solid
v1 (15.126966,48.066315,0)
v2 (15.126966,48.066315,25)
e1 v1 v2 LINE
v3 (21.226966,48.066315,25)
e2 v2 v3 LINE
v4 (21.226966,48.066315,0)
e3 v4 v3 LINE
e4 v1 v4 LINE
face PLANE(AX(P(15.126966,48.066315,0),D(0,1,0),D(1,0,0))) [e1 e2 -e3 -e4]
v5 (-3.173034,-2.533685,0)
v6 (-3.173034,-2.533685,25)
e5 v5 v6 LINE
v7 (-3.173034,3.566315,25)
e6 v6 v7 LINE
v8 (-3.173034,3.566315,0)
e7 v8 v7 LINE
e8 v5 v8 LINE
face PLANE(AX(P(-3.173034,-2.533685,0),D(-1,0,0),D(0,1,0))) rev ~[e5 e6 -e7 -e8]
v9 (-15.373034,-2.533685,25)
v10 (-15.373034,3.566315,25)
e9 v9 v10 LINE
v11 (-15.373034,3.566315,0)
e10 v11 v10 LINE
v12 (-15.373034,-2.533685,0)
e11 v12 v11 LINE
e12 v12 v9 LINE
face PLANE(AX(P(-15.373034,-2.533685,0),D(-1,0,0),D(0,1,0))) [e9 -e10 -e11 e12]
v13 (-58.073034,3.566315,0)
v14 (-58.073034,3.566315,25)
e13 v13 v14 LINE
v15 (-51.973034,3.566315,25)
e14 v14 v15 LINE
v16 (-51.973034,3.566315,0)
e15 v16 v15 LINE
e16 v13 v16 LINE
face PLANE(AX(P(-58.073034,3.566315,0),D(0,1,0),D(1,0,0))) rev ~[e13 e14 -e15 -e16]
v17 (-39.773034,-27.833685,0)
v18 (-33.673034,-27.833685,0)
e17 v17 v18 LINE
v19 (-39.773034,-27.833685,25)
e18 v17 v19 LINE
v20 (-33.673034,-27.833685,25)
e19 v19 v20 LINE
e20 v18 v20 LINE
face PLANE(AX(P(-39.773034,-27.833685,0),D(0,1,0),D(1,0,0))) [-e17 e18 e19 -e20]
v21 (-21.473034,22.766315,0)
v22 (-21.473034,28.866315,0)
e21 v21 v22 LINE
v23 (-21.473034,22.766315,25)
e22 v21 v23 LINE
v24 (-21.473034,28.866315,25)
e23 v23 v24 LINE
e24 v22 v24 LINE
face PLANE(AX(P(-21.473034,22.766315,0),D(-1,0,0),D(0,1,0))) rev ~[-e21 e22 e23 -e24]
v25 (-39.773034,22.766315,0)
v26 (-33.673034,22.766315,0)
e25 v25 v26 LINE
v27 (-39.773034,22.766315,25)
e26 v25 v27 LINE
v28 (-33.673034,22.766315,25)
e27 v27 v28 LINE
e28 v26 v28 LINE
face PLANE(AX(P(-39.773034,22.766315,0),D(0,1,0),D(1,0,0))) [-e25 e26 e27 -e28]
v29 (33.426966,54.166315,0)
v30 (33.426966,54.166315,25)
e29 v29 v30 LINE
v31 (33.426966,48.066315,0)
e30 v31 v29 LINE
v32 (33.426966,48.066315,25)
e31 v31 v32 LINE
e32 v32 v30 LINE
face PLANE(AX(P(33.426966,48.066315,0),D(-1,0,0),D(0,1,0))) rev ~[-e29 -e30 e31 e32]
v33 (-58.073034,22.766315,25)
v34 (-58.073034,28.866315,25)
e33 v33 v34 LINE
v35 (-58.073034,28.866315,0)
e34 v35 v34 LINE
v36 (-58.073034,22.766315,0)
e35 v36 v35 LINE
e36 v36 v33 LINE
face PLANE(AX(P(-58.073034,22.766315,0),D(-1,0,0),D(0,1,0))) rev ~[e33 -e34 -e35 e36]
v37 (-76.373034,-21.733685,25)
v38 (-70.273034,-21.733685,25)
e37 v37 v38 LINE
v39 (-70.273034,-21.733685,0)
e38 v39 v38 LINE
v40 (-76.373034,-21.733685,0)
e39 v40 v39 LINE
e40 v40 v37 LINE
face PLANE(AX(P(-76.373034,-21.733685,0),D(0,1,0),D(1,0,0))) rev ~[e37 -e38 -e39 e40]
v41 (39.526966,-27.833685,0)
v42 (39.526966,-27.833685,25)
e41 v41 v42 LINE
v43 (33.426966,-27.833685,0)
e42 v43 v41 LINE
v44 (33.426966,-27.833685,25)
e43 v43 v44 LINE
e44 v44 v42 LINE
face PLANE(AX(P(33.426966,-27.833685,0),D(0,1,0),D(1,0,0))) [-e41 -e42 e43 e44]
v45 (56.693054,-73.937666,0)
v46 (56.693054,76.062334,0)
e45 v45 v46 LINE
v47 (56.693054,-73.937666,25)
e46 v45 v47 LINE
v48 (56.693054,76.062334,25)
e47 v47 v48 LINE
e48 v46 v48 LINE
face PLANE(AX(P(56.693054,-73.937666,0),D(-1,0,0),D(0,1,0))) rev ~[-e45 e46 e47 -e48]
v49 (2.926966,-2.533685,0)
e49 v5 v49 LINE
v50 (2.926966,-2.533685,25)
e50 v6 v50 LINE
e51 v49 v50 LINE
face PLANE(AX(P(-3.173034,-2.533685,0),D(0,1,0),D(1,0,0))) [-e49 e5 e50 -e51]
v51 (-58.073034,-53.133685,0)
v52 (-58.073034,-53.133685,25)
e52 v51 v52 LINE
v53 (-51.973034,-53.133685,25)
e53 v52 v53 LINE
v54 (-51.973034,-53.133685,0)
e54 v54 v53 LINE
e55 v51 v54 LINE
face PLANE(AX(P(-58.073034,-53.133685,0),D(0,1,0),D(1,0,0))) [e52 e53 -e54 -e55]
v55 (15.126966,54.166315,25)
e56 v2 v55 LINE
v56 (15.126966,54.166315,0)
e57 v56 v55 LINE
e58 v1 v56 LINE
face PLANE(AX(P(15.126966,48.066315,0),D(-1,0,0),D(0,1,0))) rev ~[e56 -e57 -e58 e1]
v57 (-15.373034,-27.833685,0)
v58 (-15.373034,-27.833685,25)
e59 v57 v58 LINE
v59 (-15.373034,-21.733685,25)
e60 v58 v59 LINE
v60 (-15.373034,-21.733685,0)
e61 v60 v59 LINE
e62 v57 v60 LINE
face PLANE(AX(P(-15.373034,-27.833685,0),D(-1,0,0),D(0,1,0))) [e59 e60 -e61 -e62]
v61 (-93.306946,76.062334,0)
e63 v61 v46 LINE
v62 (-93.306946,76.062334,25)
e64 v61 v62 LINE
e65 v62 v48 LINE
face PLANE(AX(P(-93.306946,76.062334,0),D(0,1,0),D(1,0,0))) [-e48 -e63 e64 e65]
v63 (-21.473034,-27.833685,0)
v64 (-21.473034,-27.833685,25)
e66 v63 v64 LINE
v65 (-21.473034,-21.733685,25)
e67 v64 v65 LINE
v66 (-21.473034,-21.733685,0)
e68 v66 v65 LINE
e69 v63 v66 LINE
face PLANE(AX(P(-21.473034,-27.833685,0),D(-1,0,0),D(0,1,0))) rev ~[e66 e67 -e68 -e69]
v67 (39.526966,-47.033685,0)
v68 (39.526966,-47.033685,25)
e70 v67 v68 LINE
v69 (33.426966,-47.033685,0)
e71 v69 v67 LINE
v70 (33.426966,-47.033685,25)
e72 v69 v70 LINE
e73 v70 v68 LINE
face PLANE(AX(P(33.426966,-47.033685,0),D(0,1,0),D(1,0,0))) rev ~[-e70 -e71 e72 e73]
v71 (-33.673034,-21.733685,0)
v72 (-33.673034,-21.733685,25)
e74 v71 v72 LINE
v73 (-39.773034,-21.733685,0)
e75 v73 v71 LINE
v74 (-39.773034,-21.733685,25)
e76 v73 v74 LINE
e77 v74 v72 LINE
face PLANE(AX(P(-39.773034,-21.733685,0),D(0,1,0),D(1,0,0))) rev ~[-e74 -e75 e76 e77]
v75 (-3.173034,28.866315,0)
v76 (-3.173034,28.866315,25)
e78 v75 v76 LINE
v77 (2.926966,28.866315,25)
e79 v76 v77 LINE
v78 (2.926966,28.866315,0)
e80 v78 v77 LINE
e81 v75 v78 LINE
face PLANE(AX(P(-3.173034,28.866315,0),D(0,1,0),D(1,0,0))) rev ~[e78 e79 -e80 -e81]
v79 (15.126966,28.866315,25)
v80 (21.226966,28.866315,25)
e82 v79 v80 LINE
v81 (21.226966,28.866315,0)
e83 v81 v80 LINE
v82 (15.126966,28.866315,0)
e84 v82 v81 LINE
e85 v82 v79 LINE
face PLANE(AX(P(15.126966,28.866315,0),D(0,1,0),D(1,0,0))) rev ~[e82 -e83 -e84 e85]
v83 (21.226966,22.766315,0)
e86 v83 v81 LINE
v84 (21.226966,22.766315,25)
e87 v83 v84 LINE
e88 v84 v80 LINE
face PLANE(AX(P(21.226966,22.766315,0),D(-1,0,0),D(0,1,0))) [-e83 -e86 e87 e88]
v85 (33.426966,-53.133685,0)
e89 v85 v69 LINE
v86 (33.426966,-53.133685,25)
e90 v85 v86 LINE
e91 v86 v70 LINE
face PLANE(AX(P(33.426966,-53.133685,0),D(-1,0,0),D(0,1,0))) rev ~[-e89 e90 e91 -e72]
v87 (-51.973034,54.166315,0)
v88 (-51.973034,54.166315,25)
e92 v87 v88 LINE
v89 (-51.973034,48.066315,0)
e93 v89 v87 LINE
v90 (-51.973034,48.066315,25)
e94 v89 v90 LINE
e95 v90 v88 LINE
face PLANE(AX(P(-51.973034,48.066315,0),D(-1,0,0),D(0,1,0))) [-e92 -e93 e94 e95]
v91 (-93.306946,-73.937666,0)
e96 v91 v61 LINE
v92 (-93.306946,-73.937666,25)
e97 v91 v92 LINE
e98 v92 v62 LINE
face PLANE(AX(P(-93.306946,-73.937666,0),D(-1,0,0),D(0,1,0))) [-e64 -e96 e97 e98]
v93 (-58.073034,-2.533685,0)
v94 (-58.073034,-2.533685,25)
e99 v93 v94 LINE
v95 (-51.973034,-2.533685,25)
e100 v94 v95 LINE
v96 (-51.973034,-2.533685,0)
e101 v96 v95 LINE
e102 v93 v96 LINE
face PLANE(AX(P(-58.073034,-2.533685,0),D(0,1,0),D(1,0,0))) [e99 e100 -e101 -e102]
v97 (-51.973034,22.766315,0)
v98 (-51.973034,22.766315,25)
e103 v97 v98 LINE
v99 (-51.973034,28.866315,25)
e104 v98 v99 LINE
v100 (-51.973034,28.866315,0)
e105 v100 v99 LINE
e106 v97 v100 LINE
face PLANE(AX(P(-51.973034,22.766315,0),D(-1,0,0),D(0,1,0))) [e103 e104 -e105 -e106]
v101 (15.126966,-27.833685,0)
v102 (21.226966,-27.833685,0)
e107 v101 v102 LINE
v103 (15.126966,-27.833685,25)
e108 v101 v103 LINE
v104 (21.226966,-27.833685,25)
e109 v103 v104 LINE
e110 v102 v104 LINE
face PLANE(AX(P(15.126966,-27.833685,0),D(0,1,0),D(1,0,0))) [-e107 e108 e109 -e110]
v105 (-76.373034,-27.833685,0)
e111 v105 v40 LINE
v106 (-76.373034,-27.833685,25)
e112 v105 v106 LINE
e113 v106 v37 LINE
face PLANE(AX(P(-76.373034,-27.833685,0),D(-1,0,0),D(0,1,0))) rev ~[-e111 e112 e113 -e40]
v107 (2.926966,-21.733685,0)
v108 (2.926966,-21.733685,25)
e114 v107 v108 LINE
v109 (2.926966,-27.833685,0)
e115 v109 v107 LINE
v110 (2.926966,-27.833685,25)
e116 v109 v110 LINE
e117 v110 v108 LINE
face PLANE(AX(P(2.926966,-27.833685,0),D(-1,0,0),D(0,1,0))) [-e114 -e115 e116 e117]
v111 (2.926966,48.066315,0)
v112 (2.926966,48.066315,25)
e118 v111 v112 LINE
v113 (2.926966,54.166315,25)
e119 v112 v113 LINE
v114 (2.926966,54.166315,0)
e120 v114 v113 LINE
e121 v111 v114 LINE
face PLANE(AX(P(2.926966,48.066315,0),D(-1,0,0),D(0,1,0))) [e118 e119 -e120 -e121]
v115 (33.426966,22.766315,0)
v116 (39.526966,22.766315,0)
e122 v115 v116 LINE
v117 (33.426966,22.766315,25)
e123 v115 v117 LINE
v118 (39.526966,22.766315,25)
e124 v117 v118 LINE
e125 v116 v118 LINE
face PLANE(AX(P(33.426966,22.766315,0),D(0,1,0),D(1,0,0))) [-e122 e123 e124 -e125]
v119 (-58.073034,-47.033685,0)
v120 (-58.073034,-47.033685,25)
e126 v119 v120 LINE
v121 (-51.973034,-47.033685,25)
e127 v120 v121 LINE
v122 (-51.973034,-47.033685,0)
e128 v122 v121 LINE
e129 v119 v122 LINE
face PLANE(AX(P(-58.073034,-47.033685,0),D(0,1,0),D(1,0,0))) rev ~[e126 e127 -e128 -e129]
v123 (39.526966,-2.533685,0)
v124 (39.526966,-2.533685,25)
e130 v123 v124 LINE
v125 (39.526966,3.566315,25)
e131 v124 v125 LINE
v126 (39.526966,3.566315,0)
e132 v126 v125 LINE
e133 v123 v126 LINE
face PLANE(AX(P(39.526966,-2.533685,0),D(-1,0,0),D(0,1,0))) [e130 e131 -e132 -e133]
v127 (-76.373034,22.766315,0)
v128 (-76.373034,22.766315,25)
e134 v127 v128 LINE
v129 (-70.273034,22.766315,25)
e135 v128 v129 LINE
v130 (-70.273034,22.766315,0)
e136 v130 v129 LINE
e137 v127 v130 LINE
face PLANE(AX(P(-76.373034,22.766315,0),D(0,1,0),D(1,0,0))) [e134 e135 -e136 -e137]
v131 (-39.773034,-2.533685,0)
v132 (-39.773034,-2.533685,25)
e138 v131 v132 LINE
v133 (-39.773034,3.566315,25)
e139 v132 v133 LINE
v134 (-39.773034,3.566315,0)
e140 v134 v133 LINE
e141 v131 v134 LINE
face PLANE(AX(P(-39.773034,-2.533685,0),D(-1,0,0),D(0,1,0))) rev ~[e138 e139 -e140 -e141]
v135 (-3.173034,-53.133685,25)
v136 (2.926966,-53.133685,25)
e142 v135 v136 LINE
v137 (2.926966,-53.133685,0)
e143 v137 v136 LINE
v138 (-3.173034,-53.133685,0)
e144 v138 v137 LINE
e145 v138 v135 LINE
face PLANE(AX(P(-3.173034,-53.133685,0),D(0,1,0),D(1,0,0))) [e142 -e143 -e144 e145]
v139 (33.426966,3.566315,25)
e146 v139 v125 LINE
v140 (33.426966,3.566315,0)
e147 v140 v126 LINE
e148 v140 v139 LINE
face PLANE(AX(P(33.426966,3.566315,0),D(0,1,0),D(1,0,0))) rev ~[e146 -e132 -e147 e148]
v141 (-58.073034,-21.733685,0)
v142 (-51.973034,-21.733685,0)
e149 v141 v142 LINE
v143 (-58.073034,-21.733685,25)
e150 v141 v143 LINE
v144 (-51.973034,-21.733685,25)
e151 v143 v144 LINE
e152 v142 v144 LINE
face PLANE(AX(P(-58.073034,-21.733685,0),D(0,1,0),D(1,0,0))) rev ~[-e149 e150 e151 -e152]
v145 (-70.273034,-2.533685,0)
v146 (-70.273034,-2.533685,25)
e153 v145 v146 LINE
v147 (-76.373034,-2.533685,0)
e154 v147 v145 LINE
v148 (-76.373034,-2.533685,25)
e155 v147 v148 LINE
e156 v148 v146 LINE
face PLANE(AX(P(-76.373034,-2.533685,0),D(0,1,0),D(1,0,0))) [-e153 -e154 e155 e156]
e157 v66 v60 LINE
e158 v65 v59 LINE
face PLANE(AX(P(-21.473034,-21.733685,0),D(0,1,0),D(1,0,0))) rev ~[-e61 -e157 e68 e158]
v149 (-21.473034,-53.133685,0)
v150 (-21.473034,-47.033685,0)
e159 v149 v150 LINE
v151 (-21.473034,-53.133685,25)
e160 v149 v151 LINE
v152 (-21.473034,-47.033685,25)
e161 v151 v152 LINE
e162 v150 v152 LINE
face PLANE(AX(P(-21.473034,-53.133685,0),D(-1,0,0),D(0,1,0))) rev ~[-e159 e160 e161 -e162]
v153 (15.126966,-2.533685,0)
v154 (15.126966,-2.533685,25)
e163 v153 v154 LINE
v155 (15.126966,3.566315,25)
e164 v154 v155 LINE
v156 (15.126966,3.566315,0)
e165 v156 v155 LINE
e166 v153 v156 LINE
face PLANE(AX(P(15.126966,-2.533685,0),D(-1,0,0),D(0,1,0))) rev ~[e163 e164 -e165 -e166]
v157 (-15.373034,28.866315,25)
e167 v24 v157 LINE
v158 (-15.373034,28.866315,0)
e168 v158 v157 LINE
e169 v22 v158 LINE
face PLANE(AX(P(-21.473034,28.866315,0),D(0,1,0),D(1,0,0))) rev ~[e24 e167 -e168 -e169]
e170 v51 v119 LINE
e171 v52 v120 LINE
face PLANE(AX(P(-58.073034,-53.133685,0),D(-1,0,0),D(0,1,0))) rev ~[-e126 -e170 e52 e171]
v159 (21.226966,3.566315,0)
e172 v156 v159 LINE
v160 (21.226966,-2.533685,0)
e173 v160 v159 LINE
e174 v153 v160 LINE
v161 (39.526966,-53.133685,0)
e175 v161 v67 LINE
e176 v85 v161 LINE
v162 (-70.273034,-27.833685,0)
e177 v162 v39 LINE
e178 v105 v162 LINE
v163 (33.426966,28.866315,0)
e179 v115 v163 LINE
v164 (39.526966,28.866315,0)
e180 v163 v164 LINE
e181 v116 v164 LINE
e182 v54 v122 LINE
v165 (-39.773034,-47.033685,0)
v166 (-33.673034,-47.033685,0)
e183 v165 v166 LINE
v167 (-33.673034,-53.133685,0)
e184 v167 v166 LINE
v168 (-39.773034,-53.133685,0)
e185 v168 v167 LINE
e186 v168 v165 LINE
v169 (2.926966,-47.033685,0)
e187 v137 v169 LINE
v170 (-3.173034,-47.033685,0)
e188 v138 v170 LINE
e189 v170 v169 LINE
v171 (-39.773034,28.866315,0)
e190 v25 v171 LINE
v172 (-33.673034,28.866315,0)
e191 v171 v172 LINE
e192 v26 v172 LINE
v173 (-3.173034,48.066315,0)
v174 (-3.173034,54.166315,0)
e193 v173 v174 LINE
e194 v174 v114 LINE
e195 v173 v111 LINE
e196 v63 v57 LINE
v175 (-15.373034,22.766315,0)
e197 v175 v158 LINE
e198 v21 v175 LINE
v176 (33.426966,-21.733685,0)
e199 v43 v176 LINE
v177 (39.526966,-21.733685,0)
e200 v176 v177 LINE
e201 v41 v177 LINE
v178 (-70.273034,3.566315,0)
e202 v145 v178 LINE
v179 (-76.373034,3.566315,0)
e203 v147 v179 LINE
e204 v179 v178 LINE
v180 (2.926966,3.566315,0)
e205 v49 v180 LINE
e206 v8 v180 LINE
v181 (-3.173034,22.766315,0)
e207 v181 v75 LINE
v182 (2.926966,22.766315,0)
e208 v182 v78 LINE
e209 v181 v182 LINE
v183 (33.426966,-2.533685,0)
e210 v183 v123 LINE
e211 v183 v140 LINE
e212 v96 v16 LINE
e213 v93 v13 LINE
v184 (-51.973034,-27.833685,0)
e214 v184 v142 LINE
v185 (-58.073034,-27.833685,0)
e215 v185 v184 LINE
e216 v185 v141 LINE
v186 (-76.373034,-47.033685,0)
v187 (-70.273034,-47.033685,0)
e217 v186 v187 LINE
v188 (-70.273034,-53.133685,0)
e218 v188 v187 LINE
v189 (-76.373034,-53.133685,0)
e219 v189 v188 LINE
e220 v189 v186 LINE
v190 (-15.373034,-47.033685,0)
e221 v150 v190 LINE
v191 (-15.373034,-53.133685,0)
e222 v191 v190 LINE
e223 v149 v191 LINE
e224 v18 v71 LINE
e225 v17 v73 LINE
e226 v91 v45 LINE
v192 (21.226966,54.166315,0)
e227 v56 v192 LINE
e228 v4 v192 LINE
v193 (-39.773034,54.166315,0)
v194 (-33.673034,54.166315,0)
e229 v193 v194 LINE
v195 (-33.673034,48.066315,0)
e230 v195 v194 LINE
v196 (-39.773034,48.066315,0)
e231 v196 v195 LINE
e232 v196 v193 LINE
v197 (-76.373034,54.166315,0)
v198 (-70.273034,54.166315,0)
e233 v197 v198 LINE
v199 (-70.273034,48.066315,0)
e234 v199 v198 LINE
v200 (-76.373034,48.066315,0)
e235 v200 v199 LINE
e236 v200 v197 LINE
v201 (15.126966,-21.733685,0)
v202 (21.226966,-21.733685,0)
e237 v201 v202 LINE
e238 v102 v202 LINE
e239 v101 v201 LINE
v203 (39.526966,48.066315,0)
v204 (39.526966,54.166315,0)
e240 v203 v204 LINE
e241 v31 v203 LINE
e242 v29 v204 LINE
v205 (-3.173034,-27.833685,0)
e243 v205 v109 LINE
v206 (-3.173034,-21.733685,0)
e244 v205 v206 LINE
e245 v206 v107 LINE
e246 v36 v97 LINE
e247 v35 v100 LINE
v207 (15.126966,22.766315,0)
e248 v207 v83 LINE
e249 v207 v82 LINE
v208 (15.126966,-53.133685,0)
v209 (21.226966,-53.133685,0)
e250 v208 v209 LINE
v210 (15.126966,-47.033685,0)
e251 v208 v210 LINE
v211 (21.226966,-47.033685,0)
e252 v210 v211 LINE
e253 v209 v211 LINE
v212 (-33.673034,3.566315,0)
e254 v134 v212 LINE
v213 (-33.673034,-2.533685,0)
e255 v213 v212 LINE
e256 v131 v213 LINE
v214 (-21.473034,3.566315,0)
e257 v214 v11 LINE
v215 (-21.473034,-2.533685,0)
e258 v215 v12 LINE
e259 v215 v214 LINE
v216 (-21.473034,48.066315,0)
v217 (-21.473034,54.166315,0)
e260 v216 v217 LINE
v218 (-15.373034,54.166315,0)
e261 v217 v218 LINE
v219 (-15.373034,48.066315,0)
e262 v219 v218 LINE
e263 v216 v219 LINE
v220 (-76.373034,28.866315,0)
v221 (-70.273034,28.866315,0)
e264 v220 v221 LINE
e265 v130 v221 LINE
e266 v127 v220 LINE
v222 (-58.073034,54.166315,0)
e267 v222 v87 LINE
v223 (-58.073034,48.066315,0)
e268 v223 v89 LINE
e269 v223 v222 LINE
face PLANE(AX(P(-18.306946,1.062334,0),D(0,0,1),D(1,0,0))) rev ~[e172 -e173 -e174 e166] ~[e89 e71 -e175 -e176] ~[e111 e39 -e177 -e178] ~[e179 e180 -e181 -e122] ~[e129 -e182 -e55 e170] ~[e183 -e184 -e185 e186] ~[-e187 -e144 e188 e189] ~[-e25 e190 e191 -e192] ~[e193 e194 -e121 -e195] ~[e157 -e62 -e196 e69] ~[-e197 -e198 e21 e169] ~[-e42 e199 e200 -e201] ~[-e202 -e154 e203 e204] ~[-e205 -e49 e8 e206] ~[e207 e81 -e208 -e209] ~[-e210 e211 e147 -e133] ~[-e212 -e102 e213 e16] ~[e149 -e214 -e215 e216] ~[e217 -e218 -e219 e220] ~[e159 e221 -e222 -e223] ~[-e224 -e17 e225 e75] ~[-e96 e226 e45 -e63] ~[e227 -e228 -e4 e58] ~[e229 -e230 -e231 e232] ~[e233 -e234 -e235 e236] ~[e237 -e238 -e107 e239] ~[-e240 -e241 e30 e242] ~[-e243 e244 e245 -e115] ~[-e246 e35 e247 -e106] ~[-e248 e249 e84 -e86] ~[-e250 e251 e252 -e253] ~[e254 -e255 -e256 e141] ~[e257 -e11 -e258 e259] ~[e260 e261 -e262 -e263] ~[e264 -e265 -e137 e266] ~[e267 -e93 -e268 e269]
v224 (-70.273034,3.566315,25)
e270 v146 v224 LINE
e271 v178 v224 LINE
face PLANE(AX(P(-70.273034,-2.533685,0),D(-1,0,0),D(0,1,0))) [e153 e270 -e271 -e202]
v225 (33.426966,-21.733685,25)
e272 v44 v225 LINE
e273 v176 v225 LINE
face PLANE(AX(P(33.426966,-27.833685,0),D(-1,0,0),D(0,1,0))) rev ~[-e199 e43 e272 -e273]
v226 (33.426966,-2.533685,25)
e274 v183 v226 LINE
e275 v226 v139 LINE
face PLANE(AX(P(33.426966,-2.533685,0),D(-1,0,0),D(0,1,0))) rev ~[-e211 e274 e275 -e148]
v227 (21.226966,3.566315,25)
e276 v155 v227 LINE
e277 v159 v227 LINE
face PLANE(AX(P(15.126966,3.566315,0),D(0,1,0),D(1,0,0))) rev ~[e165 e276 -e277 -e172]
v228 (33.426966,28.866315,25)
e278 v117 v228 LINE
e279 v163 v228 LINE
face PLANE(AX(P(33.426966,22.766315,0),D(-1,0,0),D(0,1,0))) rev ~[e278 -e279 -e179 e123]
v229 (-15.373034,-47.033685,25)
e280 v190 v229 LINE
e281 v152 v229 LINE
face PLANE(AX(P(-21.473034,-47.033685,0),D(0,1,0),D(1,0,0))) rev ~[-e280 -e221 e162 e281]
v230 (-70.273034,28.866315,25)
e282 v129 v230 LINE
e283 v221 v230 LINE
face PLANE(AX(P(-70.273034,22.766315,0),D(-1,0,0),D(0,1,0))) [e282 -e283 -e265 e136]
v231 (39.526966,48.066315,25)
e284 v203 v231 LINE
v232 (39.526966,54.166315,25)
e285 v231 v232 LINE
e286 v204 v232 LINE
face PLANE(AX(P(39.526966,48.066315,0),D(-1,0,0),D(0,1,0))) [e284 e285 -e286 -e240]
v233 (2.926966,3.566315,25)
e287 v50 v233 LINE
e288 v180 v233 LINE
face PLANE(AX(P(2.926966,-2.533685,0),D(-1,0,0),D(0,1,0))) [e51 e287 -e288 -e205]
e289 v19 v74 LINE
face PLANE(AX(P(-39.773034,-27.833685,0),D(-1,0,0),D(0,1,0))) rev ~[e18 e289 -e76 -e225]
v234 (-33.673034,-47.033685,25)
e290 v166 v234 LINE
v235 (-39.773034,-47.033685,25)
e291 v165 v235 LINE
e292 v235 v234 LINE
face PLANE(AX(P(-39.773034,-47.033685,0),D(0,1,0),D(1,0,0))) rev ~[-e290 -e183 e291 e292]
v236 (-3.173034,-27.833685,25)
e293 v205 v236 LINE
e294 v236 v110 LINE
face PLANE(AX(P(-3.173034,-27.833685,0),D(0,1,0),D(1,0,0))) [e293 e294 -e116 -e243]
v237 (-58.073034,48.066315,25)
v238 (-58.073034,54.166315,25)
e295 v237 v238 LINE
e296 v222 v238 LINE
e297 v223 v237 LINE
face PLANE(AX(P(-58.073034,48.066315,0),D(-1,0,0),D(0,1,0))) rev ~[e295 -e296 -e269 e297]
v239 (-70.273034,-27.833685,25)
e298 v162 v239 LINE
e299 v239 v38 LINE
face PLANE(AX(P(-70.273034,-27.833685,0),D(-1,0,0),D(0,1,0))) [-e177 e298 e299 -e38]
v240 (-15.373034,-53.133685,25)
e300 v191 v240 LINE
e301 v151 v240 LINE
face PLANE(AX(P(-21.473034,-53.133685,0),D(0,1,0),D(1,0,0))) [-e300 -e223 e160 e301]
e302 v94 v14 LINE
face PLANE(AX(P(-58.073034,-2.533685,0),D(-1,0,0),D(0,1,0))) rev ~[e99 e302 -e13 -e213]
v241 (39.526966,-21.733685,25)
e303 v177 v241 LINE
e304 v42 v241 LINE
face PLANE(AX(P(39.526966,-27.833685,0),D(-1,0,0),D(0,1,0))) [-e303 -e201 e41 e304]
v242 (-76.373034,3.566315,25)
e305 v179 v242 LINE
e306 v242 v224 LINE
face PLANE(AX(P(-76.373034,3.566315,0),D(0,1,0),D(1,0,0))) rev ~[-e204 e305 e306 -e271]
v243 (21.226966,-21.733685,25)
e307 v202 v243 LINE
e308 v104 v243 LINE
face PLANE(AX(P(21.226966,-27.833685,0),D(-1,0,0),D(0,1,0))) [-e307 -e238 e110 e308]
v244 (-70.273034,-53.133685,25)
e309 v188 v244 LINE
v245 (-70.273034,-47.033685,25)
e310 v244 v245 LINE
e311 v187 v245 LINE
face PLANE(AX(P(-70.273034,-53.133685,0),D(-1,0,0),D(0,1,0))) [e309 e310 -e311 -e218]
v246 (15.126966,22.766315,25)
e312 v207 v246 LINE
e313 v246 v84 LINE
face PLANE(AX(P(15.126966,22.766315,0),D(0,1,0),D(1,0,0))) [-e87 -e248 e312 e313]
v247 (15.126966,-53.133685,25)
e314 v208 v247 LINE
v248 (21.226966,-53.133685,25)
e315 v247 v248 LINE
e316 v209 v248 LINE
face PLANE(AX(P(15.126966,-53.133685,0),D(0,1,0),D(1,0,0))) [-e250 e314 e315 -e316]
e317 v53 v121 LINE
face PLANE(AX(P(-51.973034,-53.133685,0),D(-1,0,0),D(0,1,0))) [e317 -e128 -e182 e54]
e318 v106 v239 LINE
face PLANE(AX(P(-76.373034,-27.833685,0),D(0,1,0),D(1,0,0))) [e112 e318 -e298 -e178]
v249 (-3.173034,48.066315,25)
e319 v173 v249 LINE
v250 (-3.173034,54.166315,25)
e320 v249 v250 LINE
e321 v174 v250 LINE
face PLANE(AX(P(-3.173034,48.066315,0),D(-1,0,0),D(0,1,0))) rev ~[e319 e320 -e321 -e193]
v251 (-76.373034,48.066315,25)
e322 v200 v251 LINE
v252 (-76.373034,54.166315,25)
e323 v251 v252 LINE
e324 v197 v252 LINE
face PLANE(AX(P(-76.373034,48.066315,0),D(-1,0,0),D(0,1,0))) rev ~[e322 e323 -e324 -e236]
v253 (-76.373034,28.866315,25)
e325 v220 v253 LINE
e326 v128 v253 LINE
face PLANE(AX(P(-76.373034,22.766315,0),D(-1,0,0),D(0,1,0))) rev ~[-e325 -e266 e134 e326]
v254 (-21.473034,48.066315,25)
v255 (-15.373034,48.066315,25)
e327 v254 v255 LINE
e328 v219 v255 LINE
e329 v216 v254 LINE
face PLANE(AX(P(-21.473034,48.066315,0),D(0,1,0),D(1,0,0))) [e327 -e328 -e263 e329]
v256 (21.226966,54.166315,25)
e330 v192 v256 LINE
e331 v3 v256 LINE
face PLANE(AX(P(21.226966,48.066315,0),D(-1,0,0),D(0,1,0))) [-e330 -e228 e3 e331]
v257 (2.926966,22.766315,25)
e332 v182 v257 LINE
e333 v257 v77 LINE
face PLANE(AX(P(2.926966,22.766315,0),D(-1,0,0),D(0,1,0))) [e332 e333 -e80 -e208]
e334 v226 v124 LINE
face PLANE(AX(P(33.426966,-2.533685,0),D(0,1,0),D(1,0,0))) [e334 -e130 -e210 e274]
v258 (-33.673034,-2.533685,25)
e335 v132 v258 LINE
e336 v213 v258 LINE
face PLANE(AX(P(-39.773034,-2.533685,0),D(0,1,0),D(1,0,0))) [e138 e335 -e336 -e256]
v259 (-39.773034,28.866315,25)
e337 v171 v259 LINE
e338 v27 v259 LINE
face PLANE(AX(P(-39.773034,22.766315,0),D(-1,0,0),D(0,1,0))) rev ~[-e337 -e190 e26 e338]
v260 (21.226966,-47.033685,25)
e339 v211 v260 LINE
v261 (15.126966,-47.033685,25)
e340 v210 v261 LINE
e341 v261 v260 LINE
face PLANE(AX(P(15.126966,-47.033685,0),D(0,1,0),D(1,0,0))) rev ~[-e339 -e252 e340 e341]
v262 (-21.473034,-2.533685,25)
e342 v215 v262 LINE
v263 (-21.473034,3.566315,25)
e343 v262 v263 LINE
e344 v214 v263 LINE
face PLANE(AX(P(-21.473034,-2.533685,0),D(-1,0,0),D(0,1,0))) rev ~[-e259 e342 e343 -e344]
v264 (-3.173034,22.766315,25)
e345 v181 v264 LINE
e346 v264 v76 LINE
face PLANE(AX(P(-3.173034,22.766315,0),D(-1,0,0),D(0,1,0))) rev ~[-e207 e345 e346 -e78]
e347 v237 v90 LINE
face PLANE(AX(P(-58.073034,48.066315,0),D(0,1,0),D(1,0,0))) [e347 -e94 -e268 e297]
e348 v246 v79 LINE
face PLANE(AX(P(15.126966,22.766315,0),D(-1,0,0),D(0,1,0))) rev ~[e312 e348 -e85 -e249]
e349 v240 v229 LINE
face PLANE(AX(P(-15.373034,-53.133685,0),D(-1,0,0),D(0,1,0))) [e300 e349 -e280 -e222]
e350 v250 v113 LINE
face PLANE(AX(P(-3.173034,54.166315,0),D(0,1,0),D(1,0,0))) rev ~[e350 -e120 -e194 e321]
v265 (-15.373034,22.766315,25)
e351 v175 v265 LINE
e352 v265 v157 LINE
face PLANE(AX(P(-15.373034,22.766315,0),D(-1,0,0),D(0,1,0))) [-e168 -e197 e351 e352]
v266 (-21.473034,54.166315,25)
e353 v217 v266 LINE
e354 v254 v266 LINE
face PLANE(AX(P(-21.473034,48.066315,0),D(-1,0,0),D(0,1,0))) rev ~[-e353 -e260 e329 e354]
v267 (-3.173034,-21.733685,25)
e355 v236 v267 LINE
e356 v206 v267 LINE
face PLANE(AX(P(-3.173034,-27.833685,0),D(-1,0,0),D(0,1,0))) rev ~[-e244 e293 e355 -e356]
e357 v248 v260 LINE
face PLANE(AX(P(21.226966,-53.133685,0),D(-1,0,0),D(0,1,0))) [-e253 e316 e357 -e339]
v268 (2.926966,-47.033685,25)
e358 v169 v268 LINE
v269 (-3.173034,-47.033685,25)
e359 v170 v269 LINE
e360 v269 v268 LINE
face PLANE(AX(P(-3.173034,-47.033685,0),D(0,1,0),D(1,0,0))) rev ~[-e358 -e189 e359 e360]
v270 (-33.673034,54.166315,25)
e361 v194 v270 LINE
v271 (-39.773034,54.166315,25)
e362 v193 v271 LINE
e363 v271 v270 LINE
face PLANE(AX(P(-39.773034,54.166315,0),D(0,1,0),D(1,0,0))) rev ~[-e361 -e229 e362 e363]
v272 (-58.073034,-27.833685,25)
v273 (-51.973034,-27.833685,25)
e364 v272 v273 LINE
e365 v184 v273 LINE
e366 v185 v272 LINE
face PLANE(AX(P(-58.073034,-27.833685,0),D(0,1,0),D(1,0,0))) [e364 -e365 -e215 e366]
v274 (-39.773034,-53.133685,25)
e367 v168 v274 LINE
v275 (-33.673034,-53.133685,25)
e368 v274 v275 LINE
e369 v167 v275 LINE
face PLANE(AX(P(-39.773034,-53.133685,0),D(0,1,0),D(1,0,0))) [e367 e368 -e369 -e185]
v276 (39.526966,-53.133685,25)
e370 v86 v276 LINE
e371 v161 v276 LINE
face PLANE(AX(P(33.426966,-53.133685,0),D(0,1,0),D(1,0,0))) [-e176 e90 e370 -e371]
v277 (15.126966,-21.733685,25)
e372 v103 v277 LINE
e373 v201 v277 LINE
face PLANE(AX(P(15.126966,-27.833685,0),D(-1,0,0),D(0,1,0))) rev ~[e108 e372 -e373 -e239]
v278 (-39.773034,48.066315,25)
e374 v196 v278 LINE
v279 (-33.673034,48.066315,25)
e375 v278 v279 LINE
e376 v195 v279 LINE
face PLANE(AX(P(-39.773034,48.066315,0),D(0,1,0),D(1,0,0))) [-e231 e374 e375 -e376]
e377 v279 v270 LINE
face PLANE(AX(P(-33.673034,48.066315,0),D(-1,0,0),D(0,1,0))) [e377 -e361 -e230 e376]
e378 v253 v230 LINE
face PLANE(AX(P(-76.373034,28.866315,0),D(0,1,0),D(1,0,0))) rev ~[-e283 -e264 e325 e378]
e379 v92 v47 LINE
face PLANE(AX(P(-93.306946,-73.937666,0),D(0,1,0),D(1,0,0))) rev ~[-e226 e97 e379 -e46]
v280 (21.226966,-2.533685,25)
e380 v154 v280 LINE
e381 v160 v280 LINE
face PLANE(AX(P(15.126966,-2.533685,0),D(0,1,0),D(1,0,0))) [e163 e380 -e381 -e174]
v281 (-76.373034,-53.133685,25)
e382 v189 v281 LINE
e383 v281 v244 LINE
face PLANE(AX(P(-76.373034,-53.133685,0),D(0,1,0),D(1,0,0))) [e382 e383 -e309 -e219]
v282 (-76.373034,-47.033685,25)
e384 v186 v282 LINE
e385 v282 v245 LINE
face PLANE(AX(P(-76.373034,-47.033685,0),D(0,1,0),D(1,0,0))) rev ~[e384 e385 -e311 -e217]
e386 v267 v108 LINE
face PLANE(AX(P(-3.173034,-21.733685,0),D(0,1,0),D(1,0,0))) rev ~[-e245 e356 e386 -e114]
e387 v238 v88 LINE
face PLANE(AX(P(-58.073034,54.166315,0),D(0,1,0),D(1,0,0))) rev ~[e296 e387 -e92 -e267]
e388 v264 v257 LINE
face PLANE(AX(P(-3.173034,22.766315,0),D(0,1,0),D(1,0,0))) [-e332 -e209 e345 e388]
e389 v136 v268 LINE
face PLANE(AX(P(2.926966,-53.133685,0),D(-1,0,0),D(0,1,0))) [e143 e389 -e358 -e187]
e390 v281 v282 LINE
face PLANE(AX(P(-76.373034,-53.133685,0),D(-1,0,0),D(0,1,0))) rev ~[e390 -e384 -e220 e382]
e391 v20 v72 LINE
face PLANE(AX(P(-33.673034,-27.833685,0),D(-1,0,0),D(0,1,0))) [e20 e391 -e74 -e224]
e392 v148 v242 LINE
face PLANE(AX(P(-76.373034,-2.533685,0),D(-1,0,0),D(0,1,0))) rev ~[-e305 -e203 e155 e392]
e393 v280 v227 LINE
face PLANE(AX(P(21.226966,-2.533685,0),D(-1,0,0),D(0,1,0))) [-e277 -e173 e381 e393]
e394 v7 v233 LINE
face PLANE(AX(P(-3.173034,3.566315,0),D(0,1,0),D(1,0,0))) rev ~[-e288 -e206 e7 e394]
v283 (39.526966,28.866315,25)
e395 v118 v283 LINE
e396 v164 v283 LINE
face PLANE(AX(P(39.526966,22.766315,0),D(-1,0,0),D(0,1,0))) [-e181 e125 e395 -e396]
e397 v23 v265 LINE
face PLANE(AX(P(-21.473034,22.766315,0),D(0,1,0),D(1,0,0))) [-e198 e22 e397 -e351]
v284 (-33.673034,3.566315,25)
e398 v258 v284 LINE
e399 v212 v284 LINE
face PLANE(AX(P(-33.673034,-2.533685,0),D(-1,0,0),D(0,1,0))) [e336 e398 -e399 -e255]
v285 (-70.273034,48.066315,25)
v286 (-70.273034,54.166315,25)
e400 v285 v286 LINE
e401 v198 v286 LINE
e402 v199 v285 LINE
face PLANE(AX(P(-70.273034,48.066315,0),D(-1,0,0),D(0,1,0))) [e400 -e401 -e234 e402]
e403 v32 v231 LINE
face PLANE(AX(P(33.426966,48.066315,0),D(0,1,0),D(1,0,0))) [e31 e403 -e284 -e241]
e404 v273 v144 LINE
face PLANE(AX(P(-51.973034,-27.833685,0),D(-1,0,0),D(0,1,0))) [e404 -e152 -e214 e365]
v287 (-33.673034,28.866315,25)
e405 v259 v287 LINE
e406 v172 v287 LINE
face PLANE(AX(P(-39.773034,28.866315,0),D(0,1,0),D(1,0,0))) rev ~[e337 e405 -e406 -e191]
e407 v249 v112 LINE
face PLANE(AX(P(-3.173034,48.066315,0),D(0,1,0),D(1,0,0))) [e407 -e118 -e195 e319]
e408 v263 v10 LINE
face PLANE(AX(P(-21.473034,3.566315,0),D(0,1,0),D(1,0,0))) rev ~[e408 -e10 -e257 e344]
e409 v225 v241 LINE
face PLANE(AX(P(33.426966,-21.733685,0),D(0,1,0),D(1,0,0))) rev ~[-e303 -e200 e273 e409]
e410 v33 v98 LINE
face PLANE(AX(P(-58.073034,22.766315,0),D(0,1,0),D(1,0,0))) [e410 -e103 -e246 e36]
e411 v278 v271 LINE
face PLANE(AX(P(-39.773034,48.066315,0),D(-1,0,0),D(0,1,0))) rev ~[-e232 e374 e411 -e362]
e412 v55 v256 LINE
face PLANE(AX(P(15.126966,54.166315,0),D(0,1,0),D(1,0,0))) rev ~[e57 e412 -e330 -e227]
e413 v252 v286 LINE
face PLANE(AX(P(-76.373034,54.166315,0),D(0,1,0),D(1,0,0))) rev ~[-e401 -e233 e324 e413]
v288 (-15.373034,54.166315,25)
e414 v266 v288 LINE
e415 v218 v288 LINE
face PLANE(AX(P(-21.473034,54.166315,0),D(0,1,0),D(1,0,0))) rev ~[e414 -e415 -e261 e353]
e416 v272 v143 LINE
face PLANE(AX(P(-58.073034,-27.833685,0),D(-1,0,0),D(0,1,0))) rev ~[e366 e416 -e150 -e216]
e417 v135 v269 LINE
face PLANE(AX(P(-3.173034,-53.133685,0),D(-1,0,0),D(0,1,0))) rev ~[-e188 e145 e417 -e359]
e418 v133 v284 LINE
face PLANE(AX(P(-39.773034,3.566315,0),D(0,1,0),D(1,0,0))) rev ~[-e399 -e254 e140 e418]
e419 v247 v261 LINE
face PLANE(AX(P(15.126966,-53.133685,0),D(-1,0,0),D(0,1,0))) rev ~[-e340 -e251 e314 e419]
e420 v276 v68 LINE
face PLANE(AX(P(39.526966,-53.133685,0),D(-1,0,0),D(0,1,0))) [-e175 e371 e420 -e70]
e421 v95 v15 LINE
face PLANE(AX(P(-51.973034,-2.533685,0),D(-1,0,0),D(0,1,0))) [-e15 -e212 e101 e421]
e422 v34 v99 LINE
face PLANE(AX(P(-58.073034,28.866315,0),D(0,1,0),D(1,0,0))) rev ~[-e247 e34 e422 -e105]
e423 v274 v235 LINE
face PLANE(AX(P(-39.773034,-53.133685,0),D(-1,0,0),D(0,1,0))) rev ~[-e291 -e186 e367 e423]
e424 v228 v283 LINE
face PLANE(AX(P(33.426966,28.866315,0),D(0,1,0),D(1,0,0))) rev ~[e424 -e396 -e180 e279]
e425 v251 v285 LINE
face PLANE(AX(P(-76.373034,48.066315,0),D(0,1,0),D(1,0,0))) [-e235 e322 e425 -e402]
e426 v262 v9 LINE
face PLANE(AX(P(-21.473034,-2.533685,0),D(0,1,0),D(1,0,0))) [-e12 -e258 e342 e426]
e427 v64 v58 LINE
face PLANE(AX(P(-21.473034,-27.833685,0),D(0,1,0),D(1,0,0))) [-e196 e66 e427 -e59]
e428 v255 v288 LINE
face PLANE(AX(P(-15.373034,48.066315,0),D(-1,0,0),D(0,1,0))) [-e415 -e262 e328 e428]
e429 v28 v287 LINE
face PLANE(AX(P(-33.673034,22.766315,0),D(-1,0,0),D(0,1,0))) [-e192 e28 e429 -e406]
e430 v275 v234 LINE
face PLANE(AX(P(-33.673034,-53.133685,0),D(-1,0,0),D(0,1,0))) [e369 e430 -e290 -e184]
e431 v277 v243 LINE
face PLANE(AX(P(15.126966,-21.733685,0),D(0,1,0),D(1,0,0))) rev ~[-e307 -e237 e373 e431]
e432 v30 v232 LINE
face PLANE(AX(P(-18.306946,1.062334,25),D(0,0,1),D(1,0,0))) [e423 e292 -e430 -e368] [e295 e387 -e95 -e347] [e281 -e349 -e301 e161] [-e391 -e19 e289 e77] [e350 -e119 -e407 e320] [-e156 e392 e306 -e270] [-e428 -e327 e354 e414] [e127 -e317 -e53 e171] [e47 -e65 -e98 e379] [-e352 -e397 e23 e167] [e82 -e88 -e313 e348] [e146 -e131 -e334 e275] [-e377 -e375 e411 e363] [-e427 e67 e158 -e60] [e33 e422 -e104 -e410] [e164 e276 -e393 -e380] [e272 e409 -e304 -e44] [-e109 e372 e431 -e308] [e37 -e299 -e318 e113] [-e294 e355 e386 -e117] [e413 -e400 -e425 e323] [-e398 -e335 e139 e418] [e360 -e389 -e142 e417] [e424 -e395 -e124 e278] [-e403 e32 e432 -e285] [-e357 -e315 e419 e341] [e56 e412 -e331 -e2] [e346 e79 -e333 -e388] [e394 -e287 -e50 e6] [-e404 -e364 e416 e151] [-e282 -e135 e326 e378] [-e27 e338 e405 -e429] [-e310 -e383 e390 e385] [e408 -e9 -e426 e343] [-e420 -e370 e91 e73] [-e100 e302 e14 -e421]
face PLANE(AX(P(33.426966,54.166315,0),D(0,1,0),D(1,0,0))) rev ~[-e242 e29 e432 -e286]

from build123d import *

# Parameters (mm, degrees)
F0_W     = 150
F0_H     = 150
F0_W_2   = 6.1
F0_H_2   = 6.1
F1_DEPTH = 25


with BuildPart() as f1:
    # F0 (on Top) → F1 (new body)
    with BuildSketch(Plane.XY):
        with Locations((-18.306946, 1.062334)):
            Rectangle(F0_W, F0_H)
        with Locations((-73.323034, -50.083685)):
            Rectangle(F0_W_2, F0_H_2, mode=Mode.SUBTRACT)
        with Locations((-55.023034, -50.083685)):
            Rectangle(F0_W_2, F0_H_2, mode=Mode.SUBTRACT)
        with Locations((-36.723034, -50.083685)):
            Rectangle(F0_W_2, F0_H_2, mode=Mode.SUBTRACT)
        with Locations((-18.423034, -50.083685)):
            Rectangle(F0_W_2, F0_H_2, mode=Mode.SUBTRACT)
        with Locations((-73.323034, -24.783685)):
            Rectangle(F0_W_2, F0_H_2, mode=Mode.SUBTRACT)
        with Locations((-73.323034, 0.516315)):
            Rectangle(F0_W_2, F0_H_2, mode=Mode.SUBTRACT)
        with Locations((-55.023034, -24.783685)):
            Rectangle(F0_W_2, F0_H_2, mode=Mode.SUBTRACT)
        with Locations((-36.723034, -24.783685)):
            Rectangle(F0_W_2, F0_H_2, mode=Mode.SUBTRACT)
        with Locations((-18.423034, -24.783685)):
            Rectangle(F0_W_2, F0_H_2, mode=Mode.SUBTRACT)
        with Locations((-55.023034, 0.516315)):
            Rectangle(F0_W_2, F0_H_2, mode=Mode.SUBTRACT)
        with Locations((-36.723034, 0.516315)):
            Rectangle(F0_W_2, F0_H_2, mode=Mode.SUBTRACT)
        with Locations((-18.423034, 0.516315)):
            Rectangle(F0_W_2, F0_H_2, mode=Mode.SUBTRACT)
        with Locations((-0.123034, -50.083685)):
            Rectangle(F0_W_2, F0_H_2, mode=Mode.SUBTRACT)
        with Locations((18.176966, -50.083685)):
            Rectangle(F0_W_2, F0_H_2, mode=Mode.SUBTRACT)
        with Locations((36.476966, -50.083685)):
            Rectangle(F0_W_2, F0_H_2, mode=Mode.SUBTRACT)
        with Locations((-0.123034, -24.783685)):
            Rectangle(F0_W_2, F0_H_2, mode=Mode.SUBTRACT)
        with Locations((18.176966, -24.783685)):
            Rectangle(F0_W_2, F0_H_2, mode=Mode.SUBTRACT)
        with Locations((-0.123034, 0.516315)):
            Rectangle(F0_W_2, F0_H_2, mode=Mode.SUBTRACT)
        with Locations((18.176966, 0.516315)):
            Rectangle(F0_W_2, F0_H_2, mode=Mode.SUBTRACT)
        with Locations((36.476966, -24.783685)):
            Rectangle(F0_W_2, F0_H_2, mode=Mode.SUBTRACT)
        with Locations((36.476966, 0.516315)):
            Rectangle(F0_W_2, F0_H_2, mode=Mode.SUBTRACT)
        with Locations((-73.323034, 25.816315)):
            Rectangle(F0_W_2, F0_H_2, mode=Mode.SUBTRACT)
        with Locations((-55.023034, 25.816315)):
            Rectangle(F0_W_2, F0_H_2, mode=Mode.SUBTRACT)
        with Locations((-36.723034, 25.816315)):
            Rectangle(F0_W_2, F0_H_2, mode=Mode.SUBTRACT)
        with Locations((-18.423034, 25.816315)):
            Rectangle(F0_W_2, F0_H_2, mode=Mode.SUBTRACT)
        with Locations((-73.323034, 51.116315)):
            Rectangle(F0_W_2, F0_H_2, mode=Mode.SUBTRACT)
        with Locations((-55.023034, 51.116315)):
            Rectangle(F0_W_2, F0_H_2, mode=Mode.SUBTRACT)
        with Locations((-36.723034, 51.116315)):
            Rectangle(F0_W_2, F0_H_2, mode=Mode.SUBTRACT)
        with Locations((-18.423034, 51.116315)):
            Rectangle(F0_W_2, F0_H_2, mode=Mode.SUBTRACT)
        with Locations((-0.123034, 25.816315)):
            Rectangle(F0_W_2, F0_H_2, mode=Mode.SUBTRACT)
        with Locations((18.176966, 25.816315)):
            Rectangle(F0_W_2, F0_H_2, mode=Mode.SUBTRACT)
        with Locations((36.476966, 25.816315)):
            Rectangle(F0_W_2, F0_H_2, mode=Mode.SUBTRACT)
        with Locations((-0.123034, 51.116315)):
            Rectangle(F0_W_2, F0_H_2, mode=Mode.SUBTRACT)
        with Locations((18.176966, 51.116315)):
            Rectangle(F0_W_2, F0_H_2, mode=Mode.SUBTRACT)
        with Locations((36.476966, 51.116315)):
            Rectangle(F0_W_2, F0_H_2, mode=Mode.SUBTRACT)
    extrude(amount=F1_DEPTH)


solid = f1.part
